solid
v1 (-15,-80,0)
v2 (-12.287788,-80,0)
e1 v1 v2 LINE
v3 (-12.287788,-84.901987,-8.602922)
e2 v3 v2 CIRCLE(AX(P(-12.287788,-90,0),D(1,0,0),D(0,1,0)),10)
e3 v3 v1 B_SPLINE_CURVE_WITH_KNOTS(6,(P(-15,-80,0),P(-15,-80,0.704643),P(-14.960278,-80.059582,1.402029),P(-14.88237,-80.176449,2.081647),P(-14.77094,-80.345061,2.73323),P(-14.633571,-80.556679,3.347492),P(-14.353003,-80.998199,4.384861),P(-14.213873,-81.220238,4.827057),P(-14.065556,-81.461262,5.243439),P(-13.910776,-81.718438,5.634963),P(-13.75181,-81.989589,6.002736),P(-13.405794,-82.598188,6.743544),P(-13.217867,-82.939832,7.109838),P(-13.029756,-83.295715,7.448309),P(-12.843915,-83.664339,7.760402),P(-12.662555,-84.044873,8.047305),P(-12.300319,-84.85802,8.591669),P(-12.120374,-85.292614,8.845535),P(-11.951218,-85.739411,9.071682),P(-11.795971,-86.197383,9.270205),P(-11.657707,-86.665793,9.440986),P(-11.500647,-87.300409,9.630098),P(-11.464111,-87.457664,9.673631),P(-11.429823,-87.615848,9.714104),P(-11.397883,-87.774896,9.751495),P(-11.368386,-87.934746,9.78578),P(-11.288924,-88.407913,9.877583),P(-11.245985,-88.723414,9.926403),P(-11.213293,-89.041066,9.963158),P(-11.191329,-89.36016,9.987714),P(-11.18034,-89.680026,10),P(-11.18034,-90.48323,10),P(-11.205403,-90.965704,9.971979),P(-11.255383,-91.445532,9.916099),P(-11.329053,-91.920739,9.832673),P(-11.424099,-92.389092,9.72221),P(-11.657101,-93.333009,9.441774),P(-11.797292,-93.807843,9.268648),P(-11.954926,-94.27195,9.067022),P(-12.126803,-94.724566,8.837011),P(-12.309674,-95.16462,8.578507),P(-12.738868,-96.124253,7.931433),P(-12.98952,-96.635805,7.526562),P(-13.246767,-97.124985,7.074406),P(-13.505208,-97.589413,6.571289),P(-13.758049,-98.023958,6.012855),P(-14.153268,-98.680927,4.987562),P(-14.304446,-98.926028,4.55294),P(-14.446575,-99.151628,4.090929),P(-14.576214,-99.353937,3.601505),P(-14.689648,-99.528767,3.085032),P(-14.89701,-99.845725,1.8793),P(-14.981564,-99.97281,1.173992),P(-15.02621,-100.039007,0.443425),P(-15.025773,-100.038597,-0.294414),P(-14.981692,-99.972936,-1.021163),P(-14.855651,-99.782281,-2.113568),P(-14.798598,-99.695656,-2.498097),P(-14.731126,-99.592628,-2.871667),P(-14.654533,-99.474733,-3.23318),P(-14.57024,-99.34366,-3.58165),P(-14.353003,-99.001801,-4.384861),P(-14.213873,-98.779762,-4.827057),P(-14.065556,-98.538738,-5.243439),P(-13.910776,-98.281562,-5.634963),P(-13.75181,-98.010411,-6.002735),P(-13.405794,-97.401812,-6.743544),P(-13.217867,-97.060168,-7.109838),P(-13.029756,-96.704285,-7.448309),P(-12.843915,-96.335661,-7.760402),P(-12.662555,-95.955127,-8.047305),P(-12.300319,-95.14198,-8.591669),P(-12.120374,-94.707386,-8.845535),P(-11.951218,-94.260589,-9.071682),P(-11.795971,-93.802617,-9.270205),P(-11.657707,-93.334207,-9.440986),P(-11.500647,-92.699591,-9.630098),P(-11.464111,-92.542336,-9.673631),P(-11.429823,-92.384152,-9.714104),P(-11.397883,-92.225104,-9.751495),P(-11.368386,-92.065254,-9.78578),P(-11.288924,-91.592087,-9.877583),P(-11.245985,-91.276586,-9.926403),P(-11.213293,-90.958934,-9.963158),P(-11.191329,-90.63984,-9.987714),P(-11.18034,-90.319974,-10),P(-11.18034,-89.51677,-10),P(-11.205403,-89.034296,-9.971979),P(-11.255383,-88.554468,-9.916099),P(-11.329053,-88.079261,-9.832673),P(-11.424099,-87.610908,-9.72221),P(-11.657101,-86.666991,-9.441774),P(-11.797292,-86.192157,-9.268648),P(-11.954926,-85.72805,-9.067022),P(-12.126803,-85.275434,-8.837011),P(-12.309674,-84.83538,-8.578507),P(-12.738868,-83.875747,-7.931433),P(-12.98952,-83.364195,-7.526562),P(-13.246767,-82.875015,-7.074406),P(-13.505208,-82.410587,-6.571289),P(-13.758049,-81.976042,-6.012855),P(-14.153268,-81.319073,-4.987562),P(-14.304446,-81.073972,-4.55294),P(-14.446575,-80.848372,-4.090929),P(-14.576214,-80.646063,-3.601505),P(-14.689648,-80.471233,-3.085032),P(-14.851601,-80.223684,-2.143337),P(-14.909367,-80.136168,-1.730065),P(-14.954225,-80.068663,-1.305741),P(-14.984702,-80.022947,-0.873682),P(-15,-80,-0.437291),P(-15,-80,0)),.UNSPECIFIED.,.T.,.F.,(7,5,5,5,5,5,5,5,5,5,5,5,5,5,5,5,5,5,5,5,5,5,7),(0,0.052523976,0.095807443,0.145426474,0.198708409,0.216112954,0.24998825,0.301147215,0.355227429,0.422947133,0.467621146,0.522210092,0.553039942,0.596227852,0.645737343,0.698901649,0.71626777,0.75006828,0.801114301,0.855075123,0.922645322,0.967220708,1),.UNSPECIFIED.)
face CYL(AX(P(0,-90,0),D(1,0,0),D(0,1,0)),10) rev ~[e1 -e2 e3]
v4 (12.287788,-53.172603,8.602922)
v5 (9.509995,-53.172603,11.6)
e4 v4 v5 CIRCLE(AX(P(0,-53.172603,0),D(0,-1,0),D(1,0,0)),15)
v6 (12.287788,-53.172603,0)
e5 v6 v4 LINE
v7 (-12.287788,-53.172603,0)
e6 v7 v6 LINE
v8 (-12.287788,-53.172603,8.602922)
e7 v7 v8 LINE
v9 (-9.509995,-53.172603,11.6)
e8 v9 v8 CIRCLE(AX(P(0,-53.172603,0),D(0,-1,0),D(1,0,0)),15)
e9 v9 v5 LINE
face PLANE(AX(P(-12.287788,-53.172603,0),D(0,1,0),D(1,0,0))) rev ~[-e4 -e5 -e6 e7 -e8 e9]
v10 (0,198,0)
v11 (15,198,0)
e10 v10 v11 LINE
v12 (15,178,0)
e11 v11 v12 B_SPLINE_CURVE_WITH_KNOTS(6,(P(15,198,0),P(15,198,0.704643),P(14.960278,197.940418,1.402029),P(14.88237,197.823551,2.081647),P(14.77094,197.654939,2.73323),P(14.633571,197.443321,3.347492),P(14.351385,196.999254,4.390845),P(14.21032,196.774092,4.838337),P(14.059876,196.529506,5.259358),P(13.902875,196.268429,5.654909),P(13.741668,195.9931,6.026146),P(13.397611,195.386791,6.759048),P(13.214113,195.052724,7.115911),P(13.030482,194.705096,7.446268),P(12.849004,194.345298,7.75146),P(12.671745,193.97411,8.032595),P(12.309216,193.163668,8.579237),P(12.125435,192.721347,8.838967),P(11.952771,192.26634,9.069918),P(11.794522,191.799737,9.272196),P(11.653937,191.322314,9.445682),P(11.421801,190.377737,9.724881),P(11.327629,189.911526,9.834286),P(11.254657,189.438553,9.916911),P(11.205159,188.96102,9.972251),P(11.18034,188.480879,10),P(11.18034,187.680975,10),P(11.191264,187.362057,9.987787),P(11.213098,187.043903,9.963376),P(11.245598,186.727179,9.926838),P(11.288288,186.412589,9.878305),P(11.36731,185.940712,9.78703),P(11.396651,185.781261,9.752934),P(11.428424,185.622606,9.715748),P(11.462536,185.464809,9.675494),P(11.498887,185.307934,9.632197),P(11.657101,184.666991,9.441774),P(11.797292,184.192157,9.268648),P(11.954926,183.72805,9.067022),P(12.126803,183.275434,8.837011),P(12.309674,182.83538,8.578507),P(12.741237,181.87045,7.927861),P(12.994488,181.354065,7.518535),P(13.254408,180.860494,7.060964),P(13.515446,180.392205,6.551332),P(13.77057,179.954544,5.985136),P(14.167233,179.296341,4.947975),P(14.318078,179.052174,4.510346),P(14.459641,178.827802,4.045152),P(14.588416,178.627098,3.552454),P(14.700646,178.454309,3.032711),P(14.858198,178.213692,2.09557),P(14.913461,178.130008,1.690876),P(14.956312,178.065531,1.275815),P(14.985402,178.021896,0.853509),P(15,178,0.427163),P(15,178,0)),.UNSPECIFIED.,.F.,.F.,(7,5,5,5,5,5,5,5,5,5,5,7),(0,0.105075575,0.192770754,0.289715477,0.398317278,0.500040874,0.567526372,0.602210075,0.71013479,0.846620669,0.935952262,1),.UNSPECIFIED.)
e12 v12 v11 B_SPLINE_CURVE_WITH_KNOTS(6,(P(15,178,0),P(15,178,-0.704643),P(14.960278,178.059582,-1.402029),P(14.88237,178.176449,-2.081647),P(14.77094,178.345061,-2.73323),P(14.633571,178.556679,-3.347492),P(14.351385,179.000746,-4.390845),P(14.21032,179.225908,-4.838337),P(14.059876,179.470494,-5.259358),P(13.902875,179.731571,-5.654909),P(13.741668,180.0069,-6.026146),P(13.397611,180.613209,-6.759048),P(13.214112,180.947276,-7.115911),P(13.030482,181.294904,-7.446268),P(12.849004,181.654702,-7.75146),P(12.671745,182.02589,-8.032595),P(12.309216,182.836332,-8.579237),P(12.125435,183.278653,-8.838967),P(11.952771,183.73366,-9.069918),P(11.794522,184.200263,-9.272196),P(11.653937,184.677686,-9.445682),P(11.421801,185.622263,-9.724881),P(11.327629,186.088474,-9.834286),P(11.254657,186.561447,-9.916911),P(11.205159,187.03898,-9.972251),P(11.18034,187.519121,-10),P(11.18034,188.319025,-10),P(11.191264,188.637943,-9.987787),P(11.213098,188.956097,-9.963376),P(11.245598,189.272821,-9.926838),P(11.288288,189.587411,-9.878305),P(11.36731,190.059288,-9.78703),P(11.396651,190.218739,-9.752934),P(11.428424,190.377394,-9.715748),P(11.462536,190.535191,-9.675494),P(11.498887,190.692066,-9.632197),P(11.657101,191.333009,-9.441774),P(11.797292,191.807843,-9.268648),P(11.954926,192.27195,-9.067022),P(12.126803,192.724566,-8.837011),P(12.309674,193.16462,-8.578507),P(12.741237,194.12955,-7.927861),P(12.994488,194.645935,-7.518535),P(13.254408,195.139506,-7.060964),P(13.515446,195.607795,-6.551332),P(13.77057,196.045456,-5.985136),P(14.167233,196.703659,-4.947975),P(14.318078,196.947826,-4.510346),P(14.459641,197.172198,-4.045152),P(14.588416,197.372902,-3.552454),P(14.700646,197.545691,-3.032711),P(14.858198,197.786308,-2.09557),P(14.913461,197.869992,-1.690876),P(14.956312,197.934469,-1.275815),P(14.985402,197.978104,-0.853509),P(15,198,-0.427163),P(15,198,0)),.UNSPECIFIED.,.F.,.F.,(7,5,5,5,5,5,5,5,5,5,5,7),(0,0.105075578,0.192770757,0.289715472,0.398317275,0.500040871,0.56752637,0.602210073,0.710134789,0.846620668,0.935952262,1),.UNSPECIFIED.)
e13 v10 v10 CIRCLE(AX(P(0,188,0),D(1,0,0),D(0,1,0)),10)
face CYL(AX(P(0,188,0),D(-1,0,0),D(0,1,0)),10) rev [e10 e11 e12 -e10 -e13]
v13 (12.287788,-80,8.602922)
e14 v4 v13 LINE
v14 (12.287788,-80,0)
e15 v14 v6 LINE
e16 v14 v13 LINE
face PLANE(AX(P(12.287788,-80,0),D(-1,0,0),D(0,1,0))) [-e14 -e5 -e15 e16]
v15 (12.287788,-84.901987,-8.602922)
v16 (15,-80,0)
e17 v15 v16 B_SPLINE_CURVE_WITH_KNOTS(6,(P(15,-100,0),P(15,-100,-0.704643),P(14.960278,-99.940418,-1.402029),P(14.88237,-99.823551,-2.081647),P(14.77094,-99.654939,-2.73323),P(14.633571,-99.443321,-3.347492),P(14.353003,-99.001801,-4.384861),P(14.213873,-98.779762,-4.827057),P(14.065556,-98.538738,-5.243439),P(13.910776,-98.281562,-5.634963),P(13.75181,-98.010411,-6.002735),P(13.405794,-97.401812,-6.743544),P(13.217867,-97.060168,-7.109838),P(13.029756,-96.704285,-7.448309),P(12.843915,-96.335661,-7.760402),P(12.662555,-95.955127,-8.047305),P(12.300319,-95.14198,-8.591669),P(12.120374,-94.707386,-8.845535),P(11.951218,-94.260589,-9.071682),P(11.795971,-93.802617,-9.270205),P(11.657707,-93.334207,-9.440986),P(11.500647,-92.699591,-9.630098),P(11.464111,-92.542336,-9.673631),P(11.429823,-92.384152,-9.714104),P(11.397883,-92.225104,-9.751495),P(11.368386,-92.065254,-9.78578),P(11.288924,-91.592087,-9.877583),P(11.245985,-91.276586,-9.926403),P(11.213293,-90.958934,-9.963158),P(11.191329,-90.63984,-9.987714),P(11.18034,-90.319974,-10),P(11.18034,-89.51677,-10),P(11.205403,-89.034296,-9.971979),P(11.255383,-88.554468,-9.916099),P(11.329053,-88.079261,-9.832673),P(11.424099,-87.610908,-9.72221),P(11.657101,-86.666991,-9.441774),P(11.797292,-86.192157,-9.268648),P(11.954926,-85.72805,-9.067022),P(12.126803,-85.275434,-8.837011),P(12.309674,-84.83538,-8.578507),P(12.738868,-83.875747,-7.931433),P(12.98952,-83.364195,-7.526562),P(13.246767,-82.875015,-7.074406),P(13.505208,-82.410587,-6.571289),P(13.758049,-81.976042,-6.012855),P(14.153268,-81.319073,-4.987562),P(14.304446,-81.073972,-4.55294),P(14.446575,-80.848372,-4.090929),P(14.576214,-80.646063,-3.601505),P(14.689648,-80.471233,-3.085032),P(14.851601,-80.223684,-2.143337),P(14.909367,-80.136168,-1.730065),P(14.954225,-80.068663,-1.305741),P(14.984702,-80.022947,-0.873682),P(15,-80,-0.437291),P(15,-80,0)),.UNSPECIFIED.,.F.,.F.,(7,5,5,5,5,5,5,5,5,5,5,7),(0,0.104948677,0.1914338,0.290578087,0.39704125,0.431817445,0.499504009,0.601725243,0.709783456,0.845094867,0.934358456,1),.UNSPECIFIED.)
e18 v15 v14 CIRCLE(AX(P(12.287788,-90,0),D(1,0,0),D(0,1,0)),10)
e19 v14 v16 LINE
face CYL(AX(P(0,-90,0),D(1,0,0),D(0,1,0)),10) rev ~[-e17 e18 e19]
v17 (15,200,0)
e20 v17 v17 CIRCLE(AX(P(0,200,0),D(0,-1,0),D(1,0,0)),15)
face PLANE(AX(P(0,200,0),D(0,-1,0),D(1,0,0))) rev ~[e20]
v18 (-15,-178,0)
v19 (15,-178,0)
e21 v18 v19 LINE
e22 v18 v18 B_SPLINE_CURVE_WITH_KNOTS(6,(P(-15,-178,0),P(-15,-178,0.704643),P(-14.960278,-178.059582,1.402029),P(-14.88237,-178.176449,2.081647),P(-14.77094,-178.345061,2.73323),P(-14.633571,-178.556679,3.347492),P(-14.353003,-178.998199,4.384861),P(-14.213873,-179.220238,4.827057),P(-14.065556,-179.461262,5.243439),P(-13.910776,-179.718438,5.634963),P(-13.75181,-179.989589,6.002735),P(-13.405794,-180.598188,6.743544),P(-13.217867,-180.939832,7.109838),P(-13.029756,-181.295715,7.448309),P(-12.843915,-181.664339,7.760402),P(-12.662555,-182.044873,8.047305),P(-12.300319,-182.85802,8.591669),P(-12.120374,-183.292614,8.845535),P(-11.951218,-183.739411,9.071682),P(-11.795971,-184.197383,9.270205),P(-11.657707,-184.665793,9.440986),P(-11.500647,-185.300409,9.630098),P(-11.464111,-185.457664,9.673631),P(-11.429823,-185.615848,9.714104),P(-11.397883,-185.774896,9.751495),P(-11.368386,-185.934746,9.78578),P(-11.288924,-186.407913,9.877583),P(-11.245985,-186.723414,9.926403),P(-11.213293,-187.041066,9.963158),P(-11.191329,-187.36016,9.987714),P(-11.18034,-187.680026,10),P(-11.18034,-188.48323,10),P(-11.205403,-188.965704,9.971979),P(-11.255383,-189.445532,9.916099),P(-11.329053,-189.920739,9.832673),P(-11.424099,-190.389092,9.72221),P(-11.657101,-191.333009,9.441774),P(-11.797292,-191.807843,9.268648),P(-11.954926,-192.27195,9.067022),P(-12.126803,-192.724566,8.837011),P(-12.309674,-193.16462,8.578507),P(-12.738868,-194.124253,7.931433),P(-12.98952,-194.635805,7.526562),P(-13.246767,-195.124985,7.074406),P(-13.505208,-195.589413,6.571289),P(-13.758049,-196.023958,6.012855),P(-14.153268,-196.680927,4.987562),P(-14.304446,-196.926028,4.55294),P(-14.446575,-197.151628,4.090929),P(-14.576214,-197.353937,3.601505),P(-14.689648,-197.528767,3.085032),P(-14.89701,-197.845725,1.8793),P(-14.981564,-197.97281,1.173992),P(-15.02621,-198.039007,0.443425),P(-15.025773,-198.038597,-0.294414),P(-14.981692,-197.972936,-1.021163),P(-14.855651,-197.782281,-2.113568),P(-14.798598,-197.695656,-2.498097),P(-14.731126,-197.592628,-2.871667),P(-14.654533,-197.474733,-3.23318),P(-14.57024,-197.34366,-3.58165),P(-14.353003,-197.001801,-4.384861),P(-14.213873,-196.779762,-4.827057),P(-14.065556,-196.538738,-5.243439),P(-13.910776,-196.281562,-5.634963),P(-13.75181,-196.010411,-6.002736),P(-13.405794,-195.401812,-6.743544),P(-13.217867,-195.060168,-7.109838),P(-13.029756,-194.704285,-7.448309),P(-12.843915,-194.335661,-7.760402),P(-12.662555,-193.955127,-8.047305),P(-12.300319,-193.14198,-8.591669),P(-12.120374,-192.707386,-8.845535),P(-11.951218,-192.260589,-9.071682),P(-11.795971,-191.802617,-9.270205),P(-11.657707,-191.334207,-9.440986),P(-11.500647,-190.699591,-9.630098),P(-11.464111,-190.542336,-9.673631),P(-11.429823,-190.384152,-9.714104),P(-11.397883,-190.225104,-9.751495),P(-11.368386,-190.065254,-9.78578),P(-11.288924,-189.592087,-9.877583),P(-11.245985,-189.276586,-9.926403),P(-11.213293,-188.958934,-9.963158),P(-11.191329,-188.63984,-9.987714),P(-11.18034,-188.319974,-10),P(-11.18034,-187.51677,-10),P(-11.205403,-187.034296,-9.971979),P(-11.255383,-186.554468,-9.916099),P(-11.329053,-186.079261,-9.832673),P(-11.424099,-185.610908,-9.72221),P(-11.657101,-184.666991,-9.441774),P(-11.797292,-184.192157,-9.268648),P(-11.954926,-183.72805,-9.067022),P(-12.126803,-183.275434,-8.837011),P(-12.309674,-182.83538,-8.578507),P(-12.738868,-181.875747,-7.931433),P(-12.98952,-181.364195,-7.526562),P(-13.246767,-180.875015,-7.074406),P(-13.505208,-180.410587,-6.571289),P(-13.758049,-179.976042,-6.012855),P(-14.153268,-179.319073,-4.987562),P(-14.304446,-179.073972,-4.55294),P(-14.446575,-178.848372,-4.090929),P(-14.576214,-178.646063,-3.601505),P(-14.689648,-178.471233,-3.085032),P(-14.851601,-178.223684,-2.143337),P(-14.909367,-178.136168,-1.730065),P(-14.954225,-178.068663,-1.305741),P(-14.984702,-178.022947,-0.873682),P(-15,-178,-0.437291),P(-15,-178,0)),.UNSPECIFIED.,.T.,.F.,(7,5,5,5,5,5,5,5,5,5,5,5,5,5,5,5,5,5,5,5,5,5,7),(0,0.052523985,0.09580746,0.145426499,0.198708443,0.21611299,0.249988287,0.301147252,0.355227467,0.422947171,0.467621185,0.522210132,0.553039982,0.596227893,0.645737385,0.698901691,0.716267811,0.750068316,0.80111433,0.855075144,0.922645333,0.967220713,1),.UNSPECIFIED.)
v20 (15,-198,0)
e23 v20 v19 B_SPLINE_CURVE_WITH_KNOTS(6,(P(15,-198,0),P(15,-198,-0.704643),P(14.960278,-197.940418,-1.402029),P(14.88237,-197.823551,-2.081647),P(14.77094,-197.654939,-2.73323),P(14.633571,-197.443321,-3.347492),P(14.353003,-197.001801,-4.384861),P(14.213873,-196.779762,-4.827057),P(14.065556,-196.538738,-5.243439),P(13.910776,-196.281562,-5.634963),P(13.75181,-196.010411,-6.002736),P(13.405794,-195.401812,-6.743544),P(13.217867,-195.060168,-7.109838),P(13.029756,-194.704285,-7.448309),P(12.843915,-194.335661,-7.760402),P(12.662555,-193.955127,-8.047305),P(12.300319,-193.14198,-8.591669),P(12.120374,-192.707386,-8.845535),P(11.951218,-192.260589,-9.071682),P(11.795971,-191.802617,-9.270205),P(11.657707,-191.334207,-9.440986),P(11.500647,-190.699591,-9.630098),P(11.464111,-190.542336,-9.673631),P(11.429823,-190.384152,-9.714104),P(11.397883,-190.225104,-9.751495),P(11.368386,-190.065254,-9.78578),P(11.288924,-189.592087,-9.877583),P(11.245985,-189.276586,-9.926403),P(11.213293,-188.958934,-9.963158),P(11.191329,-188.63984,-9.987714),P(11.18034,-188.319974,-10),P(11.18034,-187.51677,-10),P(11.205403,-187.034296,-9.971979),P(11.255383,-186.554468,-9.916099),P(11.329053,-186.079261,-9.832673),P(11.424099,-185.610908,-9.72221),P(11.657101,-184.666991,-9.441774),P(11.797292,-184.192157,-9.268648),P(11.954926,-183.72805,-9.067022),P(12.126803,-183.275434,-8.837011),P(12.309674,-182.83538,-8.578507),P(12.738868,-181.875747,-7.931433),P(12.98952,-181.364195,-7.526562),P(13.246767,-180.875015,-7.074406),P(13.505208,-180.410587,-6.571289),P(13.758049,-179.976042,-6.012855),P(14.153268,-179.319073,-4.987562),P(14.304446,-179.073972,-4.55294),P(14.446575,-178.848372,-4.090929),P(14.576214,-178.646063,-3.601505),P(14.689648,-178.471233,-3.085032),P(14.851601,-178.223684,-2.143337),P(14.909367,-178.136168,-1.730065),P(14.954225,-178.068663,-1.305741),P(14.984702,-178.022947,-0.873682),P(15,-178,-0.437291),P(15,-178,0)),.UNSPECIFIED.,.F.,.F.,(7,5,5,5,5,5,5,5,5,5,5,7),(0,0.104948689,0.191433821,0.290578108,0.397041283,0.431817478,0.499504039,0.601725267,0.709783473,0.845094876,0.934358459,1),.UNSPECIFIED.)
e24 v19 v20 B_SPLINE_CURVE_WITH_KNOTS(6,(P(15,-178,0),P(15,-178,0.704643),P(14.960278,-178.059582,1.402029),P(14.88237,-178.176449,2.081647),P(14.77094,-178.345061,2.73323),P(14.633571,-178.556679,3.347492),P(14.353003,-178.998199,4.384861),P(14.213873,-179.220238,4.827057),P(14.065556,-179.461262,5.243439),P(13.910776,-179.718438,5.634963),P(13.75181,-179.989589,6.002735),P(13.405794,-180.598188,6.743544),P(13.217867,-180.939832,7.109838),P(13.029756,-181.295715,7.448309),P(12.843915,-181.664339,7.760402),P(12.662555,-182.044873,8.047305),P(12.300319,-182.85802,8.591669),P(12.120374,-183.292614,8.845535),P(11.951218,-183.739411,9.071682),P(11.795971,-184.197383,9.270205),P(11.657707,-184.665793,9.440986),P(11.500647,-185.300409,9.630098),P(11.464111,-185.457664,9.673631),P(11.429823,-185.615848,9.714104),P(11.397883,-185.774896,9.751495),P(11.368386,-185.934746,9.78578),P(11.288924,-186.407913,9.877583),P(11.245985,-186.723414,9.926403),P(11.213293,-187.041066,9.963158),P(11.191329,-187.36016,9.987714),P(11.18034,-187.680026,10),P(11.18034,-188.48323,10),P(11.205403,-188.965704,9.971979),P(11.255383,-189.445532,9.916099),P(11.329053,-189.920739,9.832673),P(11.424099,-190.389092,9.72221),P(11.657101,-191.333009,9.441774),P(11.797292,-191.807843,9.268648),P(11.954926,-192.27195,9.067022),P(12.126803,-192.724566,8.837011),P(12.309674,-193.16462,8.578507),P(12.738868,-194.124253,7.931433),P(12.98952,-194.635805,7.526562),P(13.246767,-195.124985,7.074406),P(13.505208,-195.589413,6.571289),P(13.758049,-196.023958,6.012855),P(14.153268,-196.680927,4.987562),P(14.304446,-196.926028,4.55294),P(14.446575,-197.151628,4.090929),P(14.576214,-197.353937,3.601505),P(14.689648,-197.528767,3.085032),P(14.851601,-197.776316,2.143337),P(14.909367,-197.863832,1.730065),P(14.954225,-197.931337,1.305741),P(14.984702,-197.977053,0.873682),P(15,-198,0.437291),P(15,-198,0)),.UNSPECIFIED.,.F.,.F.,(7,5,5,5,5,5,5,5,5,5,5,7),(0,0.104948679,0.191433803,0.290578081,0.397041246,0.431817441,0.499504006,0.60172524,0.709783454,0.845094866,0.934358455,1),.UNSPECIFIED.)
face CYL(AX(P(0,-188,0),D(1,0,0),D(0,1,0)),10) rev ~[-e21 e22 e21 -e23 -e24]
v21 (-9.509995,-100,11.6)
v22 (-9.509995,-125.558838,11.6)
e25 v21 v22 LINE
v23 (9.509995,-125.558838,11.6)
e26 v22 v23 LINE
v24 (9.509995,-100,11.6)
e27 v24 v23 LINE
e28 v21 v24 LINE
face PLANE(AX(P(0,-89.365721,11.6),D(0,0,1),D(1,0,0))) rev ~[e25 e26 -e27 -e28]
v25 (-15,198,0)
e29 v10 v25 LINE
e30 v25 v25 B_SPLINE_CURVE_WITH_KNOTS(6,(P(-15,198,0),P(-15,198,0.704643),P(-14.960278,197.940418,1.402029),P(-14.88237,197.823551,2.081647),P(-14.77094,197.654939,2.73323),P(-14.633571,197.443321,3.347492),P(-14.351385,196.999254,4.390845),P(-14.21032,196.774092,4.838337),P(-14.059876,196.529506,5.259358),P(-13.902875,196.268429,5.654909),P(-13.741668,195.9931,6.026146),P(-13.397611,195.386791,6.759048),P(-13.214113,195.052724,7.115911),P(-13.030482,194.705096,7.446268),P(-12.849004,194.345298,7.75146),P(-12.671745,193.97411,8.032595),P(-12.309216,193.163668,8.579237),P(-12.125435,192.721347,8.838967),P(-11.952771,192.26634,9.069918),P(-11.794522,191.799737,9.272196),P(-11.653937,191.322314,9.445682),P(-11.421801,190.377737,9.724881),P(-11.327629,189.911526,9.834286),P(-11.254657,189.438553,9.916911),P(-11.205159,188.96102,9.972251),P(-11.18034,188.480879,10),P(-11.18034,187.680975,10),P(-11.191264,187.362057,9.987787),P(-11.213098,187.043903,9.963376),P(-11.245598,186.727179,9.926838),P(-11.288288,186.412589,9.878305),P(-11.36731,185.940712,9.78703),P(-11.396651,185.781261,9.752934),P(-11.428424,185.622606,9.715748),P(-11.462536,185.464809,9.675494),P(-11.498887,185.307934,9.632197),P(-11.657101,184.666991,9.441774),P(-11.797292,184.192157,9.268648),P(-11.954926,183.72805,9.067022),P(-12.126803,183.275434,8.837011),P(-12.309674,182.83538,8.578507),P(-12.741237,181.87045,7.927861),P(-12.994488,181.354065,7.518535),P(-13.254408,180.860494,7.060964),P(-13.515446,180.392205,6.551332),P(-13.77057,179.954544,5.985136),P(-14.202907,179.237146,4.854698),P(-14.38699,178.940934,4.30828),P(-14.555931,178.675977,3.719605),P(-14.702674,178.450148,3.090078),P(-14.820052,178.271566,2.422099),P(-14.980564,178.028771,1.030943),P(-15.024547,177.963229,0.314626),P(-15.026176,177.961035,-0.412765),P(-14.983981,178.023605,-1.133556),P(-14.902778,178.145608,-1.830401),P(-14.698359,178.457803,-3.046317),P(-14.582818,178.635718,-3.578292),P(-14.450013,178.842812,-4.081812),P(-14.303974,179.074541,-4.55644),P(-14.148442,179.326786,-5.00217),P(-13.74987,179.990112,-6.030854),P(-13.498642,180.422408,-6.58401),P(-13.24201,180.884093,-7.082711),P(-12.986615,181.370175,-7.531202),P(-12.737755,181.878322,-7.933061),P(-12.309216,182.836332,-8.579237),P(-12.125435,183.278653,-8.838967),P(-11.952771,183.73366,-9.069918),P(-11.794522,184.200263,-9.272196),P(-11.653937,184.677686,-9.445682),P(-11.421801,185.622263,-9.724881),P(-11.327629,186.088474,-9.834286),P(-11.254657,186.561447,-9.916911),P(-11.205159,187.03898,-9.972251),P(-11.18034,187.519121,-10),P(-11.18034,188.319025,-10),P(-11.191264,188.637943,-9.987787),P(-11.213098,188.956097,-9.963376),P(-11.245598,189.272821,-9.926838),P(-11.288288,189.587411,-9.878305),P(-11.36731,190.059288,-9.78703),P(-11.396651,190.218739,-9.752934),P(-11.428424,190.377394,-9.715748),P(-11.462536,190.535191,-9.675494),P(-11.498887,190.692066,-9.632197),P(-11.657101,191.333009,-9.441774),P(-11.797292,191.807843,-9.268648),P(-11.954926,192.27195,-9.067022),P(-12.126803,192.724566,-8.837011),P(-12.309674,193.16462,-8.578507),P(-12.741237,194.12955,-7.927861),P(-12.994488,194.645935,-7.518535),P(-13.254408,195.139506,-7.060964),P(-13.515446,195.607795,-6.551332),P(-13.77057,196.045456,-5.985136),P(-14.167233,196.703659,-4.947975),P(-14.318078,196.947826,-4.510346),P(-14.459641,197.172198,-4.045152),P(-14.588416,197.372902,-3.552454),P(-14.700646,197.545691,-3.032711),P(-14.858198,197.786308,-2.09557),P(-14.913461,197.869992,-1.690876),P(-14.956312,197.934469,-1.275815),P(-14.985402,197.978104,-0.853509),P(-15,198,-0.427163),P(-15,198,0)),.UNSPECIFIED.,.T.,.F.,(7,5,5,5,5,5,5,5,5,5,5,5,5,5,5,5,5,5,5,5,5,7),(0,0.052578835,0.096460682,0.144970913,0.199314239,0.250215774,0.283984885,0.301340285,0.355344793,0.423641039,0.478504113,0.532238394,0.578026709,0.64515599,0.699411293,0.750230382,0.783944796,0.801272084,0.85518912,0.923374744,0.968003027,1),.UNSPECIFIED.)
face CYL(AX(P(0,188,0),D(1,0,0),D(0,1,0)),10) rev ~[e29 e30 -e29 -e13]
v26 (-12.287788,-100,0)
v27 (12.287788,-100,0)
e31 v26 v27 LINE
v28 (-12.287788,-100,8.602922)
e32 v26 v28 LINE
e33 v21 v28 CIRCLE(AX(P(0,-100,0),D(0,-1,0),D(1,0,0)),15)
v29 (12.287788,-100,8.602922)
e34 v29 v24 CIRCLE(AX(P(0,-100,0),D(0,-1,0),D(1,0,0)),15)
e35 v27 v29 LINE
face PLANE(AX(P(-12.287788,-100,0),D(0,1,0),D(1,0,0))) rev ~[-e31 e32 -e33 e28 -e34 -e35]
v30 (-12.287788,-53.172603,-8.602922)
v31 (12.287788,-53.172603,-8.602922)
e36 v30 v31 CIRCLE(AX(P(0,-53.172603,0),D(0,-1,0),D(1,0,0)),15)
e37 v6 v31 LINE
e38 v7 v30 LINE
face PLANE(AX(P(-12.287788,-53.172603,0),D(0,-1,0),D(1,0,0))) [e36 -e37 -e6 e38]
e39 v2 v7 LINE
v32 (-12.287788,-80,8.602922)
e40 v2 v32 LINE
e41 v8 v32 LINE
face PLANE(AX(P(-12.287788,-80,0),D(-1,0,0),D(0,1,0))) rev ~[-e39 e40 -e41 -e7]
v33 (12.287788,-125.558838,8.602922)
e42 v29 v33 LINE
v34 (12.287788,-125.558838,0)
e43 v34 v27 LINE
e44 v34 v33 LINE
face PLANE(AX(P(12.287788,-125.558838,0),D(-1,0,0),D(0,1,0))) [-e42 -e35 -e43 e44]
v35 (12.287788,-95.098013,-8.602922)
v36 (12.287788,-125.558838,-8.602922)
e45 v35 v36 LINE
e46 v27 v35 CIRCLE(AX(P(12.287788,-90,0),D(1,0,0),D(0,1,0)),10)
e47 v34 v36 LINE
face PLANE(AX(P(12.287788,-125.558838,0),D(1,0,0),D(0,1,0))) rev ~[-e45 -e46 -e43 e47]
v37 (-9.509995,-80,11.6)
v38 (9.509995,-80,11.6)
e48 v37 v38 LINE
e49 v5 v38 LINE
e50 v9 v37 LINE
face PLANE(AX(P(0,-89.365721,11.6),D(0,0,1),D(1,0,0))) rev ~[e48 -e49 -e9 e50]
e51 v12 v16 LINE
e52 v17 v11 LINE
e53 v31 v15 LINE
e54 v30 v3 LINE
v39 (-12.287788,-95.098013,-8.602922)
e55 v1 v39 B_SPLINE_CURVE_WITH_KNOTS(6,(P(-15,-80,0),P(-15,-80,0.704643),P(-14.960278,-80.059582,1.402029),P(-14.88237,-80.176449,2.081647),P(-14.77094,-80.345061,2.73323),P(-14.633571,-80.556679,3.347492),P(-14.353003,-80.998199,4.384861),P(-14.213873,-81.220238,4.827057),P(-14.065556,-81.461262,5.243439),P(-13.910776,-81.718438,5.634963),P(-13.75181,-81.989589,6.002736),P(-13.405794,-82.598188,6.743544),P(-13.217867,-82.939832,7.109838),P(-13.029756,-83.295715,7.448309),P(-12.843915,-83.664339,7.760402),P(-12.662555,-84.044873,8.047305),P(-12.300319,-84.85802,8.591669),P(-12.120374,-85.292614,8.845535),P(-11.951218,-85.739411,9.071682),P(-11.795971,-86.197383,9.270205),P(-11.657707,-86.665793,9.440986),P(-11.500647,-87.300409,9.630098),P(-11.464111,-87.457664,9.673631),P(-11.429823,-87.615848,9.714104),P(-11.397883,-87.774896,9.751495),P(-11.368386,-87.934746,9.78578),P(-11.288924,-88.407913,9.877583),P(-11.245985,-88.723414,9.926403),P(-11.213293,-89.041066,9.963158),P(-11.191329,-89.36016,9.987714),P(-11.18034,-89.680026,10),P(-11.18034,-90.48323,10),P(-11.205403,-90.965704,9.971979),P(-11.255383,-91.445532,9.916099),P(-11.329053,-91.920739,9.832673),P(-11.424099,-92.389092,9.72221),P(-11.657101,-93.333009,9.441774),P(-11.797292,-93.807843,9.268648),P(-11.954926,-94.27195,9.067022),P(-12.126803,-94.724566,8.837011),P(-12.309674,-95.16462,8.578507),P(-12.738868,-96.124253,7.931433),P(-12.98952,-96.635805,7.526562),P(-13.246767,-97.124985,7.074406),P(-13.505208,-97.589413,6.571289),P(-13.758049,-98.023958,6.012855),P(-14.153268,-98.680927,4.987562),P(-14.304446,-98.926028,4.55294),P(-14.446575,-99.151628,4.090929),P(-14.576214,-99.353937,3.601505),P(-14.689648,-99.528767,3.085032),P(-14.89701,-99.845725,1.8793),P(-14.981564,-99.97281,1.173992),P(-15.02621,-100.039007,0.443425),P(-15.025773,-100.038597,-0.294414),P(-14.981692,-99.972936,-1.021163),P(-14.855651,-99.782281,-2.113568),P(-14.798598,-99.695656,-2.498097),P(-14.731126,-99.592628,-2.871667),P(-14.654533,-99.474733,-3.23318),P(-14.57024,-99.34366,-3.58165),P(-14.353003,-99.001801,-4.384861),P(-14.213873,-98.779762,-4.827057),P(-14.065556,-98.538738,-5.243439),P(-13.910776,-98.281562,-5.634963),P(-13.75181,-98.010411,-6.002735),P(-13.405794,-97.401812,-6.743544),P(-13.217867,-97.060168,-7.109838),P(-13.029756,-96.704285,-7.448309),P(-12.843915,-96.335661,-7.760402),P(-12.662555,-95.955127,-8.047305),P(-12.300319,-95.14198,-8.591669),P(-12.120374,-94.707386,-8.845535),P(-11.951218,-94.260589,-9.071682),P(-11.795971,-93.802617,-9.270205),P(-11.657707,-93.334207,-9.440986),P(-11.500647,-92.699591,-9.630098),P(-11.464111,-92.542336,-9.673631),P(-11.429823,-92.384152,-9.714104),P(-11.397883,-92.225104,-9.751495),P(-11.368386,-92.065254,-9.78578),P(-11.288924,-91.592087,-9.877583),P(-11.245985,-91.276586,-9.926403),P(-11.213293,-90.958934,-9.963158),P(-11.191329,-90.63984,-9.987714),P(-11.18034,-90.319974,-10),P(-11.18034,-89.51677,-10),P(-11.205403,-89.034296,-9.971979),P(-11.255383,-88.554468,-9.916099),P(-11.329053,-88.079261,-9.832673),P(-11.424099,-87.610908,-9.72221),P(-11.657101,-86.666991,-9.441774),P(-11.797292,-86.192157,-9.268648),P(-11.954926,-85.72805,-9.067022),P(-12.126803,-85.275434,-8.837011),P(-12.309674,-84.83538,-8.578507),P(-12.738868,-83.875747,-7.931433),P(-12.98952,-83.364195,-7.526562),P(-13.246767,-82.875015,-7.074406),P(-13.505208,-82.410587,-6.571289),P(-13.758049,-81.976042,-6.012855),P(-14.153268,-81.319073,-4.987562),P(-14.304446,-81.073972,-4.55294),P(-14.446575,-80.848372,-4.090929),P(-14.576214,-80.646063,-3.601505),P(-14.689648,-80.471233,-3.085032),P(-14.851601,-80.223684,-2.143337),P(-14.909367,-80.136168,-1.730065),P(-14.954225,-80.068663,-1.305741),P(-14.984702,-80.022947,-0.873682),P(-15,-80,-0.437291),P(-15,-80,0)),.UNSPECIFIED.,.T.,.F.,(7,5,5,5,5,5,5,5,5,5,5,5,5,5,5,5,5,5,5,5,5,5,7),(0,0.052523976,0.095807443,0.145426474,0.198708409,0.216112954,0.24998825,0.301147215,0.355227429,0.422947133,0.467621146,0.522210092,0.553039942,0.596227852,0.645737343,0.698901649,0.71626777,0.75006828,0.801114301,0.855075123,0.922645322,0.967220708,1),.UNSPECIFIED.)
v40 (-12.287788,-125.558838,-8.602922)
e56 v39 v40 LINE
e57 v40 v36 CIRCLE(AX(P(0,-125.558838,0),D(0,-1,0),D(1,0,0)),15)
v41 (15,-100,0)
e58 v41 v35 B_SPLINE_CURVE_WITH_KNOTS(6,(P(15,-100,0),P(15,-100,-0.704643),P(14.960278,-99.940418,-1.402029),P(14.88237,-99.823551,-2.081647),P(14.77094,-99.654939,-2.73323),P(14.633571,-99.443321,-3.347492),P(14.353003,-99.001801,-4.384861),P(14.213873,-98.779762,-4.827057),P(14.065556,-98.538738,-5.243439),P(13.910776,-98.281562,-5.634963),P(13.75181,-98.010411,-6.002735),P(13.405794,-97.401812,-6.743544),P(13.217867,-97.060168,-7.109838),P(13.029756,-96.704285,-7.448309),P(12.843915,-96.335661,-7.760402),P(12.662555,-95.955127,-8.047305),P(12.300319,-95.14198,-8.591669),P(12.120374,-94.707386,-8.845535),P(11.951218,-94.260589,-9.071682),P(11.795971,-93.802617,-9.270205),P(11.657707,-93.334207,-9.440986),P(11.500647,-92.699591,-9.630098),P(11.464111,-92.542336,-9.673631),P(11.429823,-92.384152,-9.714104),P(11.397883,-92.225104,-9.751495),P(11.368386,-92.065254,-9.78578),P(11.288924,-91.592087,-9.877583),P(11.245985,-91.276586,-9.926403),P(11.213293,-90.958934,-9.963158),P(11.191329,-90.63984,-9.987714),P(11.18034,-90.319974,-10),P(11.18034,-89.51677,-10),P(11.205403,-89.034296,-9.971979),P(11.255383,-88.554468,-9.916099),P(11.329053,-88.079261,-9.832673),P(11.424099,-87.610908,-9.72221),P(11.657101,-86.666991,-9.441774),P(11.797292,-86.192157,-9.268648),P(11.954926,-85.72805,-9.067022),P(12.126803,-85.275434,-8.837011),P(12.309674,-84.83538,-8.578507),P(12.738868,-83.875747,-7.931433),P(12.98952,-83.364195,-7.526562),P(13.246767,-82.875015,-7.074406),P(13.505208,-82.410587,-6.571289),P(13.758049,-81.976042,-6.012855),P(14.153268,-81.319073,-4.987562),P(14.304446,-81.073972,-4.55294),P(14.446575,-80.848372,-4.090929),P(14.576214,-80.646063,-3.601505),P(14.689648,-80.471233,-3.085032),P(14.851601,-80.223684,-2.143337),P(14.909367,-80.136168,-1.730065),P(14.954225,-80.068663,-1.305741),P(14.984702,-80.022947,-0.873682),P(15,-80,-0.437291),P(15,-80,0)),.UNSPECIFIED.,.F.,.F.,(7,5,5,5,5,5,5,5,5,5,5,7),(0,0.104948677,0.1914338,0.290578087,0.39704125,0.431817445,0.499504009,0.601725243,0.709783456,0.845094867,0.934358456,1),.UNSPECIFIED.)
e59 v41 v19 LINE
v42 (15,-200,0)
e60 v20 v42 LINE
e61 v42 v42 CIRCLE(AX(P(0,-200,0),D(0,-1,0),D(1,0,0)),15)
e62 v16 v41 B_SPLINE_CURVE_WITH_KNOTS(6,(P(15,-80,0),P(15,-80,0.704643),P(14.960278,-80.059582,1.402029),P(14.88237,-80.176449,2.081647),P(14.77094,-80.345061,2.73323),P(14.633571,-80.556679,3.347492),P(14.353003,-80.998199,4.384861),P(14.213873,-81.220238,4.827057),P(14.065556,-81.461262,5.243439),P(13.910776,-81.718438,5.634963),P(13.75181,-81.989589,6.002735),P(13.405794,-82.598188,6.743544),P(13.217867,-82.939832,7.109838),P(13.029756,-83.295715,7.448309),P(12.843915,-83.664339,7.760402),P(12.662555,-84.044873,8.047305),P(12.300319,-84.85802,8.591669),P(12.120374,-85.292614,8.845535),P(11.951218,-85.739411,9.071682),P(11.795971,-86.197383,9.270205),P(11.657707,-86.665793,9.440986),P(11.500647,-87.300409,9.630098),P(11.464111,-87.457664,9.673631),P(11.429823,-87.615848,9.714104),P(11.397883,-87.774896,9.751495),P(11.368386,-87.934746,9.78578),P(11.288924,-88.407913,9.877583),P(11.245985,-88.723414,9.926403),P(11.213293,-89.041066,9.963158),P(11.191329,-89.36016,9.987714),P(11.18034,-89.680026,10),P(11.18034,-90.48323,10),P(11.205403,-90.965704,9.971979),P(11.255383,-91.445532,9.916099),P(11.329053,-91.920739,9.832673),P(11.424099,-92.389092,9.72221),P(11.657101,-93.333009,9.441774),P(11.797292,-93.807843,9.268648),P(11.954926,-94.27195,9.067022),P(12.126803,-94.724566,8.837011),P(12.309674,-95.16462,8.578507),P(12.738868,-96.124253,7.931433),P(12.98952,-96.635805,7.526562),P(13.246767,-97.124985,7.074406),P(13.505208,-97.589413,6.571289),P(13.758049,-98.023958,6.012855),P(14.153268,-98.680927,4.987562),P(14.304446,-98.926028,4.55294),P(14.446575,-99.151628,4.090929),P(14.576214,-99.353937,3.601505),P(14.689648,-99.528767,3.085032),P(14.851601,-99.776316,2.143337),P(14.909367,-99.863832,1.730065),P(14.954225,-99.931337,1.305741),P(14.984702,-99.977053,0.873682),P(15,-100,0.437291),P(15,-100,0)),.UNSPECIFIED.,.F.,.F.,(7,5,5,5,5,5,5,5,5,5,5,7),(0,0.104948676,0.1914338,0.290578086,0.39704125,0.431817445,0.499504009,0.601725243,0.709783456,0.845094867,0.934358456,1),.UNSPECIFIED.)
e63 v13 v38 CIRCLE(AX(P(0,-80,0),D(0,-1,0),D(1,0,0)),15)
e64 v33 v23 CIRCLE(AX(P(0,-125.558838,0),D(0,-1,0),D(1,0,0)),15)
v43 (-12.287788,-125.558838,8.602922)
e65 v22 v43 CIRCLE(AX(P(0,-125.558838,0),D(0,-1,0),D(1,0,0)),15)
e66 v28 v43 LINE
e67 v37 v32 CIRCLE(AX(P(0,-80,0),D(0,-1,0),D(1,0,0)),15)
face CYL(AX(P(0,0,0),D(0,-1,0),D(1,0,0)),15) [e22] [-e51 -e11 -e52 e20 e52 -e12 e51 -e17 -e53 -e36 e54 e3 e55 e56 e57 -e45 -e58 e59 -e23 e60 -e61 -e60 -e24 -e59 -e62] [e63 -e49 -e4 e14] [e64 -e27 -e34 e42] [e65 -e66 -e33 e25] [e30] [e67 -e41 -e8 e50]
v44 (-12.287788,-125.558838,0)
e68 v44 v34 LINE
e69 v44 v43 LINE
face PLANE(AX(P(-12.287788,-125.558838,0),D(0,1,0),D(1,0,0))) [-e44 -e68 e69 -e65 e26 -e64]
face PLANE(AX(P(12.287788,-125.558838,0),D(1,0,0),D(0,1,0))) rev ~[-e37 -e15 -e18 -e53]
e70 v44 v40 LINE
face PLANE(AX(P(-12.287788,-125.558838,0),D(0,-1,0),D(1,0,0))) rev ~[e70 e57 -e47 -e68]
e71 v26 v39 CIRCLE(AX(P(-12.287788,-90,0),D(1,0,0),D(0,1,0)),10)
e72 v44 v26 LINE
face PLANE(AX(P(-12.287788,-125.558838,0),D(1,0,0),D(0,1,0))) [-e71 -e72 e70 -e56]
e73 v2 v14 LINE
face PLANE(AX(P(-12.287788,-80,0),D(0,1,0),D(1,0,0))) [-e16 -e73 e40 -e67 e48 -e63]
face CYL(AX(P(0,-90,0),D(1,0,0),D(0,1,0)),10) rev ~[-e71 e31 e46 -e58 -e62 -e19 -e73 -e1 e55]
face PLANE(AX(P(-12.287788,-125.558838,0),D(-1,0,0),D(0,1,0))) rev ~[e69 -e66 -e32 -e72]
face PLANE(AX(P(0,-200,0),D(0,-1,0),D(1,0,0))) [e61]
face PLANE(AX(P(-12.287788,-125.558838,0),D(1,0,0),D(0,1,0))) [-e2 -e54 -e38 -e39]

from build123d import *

# Parameters (mm, degrees)
F0_R     = 15
F1_DEPTH = 200
F2_R     = 10
F3_DEPTH = 200
F4_R     = 10
F5_DEPTH = 200
F6_W     = 24.5755761862
F6_H     = 72.3862349987
F7_DEPTH = 58.4
F8_DEPTH = 11.6


with BuildPart() as f1:
    # F0 (on Front) → F1 (new body, symmetric)
    with BuildSketch(Plane.XZ):
        Circle(F0_R)
    extrude(amount=F1_DEPTH, both=True)

    # F2 (on Right) → F3 (cut, symmetric)
    with BuildSketch(Plane.YZ):
        with Locations((188, 0)):
            Circle(F2_R)
        with Locations((-188, 0)):
            Circle(F2_R)
    extrude(amount=F3_DEPTH, both=True, mode=Mode.SUBTRACT)

    # F4 (on Right) → F5 (cut, symmetric)
    with BuildSketch(Plane.YZ):
        with Locations((-90, 0)):
            Circle(F4_R)
    extrude(amount=F5_DEPTH, both=True, mode=Mode.SUBTRACT)

    # F6 (on Top) → F7 (cut)
    with BuildSketch(Plane.XY):
        with Locations((0, -89.3657207489)):
            Rectangle(F6_W, F6_H)
    extrude(amount=-F7_DEPTH, mode=Mode.SUBTRACT)

    # F8 (cut): faces of the model
    f8_faces = [f1.faces().sort_by_distance(p)[0] for p in [
        (0, -66.5863016248, 0),
        (0, -112.7794191241, 0),
    ]]
    extrude(f8_faces, amount=-F8_DEPTH, mode=Mode.SUBTRACT)


solid = f1.part
